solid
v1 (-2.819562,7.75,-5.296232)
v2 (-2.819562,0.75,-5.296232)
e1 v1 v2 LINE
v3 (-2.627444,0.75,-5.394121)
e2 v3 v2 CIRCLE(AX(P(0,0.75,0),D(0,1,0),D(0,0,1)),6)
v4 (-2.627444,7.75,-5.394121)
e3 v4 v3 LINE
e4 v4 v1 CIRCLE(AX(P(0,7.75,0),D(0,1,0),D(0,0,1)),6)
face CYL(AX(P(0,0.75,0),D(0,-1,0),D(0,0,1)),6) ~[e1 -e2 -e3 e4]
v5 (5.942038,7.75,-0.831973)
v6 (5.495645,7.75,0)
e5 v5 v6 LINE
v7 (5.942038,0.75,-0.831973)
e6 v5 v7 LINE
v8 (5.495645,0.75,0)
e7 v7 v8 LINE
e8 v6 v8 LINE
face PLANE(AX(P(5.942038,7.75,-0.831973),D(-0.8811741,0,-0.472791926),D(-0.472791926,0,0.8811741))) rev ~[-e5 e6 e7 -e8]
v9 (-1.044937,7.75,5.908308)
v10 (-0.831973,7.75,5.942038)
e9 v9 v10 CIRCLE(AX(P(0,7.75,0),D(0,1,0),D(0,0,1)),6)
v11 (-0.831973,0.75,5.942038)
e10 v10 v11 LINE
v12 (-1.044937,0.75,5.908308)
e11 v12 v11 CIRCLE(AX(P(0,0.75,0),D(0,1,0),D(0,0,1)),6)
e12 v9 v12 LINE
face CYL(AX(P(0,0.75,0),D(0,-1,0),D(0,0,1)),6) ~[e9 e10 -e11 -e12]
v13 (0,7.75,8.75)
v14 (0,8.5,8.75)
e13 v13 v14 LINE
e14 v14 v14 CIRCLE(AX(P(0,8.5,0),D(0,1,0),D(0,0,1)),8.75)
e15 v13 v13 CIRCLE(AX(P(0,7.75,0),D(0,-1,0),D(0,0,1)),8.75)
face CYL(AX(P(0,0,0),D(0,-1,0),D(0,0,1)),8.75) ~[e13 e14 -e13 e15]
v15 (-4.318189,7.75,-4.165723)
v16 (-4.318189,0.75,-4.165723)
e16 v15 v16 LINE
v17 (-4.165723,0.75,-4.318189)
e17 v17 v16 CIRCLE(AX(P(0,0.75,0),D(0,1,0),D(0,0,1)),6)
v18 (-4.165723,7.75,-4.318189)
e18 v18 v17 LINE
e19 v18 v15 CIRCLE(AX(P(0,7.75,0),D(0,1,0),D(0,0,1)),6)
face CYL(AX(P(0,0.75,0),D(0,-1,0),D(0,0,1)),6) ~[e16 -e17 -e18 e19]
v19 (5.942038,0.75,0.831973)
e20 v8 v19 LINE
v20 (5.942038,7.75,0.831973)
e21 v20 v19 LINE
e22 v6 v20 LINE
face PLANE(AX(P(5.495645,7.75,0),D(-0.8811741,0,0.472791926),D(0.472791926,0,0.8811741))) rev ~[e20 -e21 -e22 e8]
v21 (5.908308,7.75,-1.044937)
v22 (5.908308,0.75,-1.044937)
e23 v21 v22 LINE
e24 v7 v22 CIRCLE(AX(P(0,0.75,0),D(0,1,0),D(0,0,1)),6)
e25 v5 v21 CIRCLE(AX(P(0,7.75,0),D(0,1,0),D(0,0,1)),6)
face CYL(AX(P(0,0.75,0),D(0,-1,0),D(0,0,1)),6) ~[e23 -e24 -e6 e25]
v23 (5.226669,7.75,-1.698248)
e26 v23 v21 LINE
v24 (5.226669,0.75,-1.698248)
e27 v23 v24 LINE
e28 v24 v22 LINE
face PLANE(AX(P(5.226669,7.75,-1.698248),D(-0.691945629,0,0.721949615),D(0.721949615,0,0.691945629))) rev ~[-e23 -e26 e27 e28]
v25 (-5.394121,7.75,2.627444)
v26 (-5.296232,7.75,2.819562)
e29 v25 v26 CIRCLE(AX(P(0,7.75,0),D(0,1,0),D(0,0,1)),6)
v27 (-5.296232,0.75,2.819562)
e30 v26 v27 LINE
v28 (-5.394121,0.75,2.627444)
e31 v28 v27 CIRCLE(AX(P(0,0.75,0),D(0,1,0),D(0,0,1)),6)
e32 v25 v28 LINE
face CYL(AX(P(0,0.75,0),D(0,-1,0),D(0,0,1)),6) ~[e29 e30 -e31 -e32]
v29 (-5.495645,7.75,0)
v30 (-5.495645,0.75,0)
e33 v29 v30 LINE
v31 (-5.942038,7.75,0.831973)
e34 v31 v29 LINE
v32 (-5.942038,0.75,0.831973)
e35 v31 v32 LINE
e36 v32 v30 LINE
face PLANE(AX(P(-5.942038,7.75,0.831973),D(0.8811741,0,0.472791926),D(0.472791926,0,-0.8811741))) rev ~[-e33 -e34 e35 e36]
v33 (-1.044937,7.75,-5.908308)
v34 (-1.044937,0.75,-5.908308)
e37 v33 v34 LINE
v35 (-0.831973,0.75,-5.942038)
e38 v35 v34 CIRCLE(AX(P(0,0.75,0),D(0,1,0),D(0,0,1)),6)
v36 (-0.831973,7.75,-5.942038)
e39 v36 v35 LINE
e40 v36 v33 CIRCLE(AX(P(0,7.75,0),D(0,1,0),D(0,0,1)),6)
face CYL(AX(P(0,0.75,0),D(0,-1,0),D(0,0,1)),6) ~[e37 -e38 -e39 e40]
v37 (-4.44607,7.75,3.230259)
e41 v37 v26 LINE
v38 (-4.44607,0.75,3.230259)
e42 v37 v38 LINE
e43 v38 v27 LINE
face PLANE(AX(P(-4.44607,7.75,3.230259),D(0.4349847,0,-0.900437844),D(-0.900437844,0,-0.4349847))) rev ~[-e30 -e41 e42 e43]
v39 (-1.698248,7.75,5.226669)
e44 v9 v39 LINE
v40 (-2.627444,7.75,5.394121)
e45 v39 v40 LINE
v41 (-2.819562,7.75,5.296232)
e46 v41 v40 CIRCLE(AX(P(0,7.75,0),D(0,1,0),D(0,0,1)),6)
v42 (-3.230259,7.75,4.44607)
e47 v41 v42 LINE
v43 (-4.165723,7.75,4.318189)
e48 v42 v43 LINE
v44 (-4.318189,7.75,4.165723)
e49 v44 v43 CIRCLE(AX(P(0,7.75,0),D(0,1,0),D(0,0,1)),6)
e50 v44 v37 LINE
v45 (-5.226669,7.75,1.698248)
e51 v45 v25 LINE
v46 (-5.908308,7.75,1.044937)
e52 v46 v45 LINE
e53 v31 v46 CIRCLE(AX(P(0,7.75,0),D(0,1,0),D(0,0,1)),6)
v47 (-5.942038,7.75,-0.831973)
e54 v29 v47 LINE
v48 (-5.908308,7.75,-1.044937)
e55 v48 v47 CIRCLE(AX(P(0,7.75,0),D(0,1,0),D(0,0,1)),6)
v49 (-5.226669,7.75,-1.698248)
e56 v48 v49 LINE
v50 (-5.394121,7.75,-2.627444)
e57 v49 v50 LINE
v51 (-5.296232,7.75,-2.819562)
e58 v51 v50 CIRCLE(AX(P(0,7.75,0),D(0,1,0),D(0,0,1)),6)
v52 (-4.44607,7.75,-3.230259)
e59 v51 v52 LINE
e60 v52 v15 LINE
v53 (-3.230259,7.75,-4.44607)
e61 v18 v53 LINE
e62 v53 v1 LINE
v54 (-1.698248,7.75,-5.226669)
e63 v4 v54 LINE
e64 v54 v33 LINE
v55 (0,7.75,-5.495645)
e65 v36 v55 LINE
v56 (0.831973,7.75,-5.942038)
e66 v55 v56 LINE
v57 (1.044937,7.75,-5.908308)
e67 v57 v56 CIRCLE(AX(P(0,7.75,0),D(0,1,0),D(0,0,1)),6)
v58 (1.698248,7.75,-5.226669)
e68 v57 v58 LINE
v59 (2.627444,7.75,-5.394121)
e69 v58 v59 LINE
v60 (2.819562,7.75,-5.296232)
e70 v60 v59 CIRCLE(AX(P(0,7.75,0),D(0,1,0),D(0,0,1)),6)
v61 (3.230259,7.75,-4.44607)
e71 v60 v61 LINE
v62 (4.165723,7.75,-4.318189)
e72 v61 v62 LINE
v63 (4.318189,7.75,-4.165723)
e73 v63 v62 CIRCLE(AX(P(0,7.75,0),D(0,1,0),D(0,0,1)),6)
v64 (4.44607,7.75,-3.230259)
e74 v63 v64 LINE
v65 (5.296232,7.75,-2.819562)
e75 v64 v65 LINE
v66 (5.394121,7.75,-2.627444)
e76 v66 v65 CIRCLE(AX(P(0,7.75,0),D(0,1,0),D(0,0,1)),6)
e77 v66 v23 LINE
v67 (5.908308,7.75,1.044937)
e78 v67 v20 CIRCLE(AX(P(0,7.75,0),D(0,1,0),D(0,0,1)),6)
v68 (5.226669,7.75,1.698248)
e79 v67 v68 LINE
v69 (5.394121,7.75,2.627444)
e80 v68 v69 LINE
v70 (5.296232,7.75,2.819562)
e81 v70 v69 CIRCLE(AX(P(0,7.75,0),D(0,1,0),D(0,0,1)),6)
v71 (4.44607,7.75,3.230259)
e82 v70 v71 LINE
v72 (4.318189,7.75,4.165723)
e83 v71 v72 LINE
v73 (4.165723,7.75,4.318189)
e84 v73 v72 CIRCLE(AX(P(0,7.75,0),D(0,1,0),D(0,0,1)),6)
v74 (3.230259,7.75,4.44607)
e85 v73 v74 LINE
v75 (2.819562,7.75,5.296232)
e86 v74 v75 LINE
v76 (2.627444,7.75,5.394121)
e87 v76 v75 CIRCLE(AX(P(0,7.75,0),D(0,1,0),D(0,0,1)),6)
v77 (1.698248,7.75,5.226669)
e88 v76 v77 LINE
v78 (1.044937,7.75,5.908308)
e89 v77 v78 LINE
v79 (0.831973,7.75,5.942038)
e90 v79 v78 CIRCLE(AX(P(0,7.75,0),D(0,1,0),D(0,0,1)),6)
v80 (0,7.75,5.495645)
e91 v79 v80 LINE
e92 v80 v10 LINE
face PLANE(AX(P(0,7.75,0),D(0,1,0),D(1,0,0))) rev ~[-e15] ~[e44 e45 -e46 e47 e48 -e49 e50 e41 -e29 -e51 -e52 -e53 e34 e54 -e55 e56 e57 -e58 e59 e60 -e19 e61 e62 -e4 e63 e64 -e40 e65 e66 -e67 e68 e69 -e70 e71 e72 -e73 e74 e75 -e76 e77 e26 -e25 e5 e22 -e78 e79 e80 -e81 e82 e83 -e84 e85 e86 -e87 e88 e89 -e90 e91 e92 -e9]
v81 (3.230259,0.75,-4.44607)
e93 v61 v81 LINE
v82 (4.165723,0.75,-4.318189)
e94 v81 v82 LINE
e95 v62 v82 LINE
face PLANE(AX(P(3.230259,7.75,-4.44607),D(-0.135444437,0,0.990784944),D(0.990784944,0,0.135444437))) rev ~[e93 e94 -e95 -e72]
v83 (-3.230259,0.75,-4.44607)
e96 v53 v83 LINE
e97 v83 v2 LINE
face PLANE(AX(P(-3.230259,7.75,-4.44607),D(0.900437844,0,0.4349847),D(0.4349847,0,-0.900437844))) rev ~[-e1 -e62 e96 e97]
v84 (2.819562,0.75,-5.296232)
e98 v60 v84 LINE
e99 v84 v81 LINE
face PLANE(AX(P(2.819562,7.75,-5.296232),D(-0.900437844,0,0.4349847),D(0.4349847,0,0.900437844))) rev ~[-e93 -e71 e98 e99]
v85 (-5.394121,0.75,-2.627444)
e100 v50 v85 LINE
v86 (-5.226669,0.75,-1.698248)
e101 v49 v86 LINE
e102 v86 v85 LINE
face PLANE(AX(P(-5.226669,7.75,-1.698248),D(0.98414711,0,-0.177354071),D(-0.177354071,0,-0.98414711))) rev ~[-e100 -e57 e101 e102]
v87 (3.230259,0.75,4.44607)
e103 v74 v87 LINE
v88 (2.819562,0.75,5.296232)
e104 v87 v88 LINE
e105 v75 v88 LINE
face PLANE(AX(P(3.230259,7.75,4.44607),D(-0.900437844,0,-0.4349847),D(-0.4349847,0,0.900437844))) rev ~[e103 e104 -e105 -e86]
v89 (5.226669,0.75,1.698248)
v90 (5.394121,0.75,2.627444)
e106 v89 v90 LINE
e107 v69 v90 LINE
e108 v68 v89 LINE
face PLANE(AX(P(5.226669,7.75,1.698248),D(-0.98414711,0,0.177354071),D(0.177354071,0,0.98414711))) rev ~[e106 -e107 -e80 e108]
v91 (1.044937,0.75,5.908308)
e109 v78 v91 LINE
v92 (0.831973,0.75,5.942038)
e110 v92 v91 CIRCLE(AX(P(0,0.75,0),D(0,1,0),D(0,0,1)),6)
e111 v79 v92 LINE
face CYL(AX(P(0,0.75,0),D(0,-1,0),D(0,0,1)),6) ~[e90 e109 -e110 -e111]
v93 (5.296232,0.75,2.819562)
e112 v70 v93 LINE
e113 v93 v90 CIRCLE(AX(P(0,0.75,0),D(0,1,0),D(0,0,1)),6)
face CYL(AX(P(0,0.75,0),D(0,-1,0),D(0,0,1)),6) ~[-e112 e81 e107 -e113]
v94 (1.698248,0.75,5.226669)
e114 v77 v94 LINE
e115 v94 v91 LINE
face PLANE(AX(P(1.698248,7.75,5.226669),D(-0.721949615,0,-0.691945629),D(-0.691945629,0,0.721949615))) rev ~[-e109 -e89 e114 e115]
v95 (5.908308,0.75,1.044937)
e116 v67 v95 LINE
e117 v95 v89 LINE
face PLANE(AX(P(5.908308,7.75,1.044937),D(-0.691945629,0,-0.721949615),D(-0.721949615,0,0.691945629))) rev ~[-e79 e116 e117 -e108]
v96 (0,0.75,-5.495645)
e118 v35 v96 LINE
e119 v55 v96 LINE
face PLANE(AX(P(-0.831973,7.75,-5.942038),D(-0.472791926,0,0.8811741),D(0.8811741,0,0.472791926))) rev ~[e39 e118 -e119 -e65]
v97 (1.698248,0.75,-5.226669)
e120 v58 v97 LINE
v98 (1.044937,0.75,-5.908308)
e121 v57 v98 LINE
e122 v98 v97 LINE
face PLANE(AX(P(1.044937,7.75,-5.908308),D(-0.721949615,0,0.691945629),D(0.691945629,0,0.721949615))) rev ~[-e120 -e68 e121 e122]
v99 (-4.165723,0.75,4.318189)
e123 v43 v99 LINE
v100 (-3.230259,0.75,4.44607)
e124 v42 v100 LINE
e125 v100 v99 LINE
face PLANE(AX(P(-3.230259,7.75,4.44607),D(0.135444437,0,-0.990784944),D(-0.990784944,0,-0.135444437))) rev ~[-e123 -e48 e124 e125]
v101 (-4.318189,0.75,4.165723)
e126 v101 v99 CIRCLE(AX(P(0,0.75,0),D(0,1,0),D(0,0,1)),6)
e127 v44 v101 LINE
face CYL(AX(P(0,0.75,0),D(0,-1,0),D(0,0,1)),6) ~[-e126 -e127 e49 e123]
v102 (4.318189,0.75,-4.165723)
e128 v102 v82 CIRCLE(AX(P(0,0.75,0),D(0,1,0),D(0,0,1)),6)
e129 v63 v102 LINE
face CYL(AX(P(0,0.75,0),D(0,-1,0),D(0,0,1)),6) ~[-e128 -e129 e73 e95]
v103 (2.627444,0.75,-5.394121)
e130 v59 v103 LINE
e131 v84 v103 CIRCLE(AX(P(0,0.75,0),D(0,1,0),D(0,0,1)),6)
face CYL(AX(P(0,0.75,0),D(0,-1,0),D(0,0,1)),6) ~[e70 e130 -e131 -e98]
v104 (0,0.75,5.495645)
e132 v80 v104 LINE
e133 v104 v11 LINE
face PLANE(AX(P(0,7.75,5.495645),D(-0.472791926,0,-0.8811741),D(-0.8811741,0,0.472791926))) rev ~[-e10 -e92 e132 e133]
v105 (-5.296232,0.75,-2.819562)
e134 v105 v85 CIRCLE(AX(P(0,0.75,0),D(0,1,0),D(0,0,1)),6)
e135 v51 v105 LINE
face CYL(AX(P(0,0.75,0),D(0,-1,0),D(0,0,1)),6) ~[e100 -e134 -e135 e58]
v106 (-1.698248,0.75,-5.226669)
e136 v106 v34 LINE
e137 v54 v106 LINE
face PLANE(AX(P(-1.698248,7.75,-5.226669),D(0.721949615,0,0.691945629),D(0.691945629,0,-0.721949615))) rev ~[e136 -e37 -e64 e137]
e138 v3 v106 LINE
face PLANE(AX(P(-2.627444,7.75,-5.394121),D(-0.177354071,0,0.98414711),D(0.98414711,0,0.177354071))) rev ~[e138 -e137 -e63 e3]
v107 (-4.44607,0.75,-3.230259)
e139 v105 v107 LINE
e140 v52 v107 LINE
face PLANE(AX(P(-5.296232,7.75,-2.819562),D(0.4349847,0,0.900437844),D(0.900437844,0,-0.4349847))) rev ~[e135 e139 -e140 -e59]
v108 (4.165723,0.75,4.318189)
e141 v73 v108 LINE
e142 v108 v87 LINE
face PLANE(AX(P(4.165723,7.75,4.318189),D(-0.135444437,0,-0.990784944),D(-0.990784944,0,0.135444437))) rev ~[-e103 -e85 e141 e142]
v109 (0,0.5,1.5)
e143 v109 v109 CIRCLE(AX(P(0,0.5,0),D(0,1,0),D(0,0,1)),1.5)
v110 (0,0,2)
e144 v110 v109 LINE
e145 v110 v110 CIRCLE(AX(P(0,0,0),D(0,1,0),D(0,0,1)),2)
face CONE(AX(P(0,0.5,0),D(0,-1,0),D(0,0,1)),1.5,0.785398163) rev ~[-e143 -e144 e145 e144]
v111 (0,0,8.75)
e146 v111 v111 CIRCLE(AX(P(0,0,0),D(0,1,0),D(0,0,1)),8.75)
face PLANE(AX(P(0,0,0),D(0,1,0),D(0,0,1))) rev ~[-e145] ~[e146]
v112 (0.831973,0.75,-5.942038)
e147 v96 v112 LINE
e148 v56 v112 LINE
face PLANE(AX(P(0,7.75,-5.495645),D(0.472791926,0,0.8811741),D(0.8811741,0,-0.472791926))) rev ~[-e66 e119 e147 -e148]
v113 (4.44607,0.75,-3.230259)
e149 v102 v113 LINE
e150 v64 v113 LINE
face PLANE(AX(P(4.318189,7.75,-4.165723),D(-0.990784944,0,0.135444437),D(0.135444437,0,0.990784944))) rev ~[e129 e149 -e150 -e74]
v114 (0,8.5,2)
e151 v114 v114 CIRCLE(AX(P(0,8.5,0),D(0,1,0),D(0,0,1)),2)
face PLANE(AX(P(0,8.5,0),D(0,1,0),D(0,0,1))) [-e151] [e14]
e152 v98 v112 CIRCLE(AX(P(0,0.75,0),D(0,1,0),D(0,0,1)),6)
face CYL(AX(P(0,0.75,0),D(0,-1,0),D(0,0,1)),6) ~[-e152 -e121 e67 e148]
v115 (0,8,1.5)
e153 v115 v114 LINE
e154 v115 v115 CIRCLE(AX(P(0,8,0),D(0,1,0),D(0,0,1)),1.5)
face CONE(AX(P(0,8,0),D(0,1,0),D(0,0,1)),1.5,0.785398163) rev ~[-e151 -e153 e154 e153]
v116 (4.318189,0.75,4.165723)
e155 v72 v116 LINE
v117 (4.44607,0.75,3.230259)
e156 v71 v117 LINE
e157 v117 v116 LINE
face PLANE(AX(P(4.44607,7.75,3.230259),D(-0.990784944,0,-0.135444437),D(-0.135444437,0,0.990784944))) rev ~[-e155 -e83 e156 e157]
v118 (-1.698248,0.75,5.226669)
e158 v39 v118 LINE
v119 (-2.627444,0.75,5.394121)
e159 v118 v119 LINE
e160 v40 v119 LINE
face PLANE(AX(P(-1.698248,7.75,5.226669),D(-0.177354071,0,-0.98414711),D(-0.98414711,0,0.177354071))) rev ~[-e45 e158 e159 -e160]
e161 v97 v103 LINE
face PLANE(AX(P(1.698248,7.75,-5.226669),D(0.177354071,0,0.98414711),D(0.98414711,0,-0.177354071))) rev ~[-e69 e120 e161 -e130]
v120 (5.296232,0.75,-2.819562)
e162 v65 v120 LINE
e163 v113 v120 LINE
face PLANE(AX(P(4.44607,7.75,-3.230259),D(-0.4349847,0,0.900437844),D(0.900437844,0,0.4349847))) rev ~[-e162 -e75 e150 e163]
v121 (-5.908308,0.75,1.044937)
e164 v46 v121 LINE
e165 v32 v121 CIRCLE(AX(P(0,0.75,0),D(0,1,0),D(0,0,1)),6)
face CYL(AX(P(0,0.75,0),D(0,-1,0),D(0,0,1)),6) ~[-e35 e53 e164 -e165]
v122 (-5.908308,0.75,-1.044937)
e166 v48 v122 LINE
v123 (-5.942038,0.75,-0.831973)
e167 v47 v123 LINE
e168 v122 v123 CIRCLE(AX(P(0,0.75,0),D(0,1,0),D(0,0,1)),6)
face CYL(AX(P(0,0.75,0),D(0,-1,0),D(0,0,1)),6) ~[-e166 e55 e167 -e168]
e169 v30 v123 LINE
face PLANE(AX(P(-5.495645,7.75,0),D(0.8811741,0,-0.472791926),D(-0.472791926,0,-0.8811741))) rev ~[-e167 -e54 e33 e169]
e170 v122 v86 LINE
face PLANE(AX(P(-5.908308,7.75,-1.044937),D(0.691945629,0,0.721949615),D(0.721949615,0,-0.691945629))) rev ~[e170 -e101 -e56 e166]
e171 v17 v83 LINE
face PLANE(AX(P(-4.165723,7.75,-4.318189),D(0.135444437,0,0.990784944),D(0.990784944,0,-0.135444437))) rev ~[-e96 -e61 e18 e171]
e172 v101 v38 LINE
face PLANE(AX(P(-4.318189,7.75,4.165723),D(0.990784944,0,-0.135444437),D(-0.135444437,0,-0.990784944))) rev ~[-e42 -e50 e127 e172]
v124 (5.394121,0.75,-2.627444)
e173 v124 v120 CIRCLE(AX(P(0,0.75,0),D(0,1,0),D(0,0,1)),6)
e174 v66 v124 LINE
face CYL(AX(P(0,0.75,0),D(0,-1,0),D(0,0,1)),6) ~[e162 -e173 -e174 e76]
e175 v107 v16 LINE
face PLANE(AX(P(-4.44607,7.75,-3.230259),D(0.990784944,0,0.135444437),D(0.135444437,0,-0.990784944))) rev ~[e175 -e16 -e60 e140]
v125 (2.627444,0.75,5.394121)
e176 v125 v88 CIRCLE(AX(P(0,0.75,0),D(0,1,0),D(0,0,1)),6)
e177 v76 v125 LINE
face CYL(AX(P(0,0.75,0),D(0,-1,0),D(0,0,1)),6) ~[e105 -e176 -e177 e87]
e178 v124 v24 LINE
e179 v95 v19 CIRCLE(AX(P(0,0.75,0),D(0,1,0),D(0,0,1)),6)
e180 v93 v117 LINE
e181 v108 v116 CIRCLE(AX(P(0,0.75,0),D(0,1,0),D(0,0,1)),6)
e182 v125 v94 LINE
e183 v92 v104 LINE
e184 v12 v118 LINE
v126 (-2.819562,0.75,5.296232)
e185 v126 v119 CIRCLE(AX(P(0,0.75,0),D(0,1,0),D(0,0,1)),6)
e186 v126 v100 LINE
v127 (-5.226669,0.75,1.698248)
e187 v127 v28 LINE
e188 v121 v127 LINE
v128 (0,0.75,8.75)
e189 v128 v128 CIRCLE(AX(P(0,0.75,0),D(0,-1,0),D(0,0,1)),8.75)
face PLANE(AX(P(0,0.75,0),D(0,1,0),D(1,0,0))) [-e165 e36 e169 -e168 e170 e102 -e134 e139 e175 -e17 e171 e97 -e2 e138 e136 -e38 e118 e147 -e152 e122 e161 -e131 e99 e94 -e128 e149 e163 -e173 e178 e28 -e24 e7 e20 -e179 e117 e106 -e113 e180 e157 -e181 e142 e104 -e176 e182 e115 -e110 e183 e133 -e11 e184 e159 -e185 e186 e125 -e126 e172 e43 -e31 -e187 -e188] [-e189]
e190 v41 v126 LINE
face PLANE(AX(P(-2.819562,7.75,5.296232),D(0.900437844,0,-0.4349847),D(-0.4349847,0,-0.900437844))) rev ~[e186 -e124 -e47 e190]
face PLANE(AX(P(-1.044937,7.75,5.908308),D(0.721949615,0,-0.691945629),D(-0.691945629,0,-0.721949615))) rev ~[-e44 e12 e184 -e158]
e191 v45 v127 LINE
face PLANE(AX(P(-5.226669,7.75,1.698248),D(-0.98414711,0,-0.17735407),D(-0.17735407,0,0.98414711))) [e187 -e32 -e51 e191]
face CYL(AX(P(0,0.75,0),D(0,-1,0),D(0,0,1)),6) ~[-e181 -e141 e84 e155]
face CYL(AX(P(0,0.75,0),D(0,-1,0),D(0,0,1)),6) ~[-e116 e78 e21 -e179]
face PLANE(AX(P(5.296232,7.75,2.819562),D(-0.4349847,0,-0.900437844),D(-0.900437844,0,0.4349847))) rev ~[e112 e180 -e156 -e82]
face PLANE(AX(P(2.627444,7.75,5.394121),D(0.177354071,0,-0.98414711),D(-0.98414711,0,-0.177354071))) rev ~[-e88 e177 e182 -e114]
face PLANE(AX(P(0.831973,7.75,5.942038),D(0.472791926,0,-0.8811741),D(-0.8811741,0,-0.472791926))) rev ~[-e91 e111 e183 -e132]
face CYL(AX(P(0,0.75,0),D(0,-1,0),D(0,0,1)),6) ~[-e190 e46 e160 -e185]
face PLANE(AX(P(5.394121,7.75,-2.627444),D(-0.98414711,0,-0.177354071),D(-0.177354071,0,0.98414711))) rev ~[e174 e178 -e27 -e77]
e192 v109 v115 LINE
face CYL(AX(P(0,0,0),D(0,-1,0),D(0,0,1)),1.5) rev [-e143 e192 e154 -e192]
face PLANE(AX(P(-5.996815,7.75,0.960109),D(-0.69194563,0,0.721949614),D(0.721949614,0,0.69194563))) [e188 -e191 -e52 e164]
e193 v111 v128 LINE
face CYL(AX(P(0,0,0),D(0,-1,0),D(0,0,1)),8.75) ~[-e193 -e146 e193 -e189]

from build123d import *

# Parameters (mm, degrees)
SKETCH1_R               = 8.75
SKETCH1_R_2             = 1.5
BOSS_EXTRUDE1_DEPTH     = 8.5
CUT_EXTRUDE2_DEPTH      = 3.5
CUT_EXTRUDE2_DEPTH_BACK = 3.5
CUT_EXTRUDE2_START      = -4.25
SKETCH2_R               = 9
SKETCH2_R_2             = 6
CUT_EXTRUDE5_START      = -0.75
CUT_EXTRUDE5_DEPTH      = 7
CHAMFER1_SIZE           = 0.5


with BuildPart() as part:
    # Sketch1 → Boss-Extrude1 (new body)
    with BuildSketch(Plane(origin=(0, 0, 0), x_dir=(1, 0, 0), z_dir=(0, 1, 0))):
        with Locations(Location((0, 0, 0), (0, 0, 270))):
            Circle(SKETCH1_R)
        with Locations(Location((0, 0, 0), (0, 0, 270))):
            Circle(SKETCH1_R_2, mode=Mode.SUBTRACT)
    extrude(amount=BOSS_EXTRUDE1_DEPTH)

    # Sketch2 → Cut-Extrude2 (cut, two sides: drawn at the far end of the back side and taken through both)
    with BuildSketch(Plane(origin=(0, 8.5, 0), x_dir=(1, 0, 0), z_dir=(0, 1, 0)).offset(CUT_EXTRUDE2_START - CUT_EXTRUDE2_DEPTH_BACK)):
        Circle(SKETCH2_R)
        with Locations(Location((0, 0, 0), (0, 0, 270))):
            Circle(SKETCH2_R_2, mode=Mode.SUBTRACT)
    extrude(amount=CUT_EXTRUDE2_DEPTH + CUT_EXTRUDE2_DEPTH_BACK, mode=Mode.SUBTRACT)

    # Sketch4 → Cut-Extrude5 (cut)
    with BuildSketch(Plane(origin=(0, 8.5, 0), x_dir=(1, 0, 0), z_dir=(0, 1, 0)).offset(CUT_EXTRUDE5_START)):
        with BuildLine():
            ThreePointArc((3.526710889, 4.85410242), (3.180827716, 5.087468432), (2.81956216, 5.296231606))
            Line((2.81956216, 5.296231606), (3.230259184, 4.44607034))
            Line((3.230259184, 4.44607034), (4.165722957, 4.318188538))
            ThreePointArc((4.165722957, 4.318188538), (3.855539591, 4.597261626), (3.526710889, 4.85410242))
        make_face()
        with BuildLine():
            ThreePointArc((4.854101297, 3.526712434), (4.597261012, 3.855540323), (4.318188538, 4.165722957))
            Line((4.318188538, 4.165722957), (4.44607034, 3.230259184))
            Line((4.44607034, 3.230259184), (5.296231606, 2.81956216))
            ThreePointArc((5.296231606, 2.81956216), (5.087467925, 3.180828525), (4.854101297, 3.526712434))
        make_face()
        with BuildLine():
            ThreePointArc((1.85410212, 5.706339048), (1.453033176, 5.821399711), (1.044937393, 5.908308205))
            Line((1.044937393, 5.908308205), (1.698247753, 5.226669153))
            Line((1.698247753, 5.226669153), (2.62744432, 5.394120535))
            ThreePointArc((2.62744432, 5.394120535), (2.246204515, 5.563682708), (1.85410212, 5.706339048))
        make_face()
        with BuildLine():
            ThreePointArc((0.831973127, 5.942038431), (0.416994825, 5.98549207), (-5.4e-08, 6))
            ThreePointArc((-5.4e-08, 6), (-0.416994879, 5.985492066), (-0.831973127, 5.942038431))
            Line((-0.831973127, 5.942038431), (0, 5.495645173))
            Line((0, 5.495645173), (0.831973127, 5.942038431))
        make_face()
        with BuildLine():
            Line((-1.698247753, 5.226669153), (-1.044937393, 5.908308205))
            ThreePointArc((-1.044937393, 5.908308205), (-1.453033133, 5.821399721), (-1.854102038, 5.706339075))
            ThreePointArc((-1.854102038, 5.706339075), (-2.246204475, 5.563682724), (-2.62744432, 5.394120535))
            Line((-2.62744432, 5.394120535), (-1.698247753, 5.226669153))
        make_face()
        with BuildLine():
            Line((-3.230259184, 4.44607034), (-2.81956216, 5.296231606))
            ThreePointArc((-2.81956216, 5.296231606), (-3.180828024, 5.087468239), (-3.526711477, 4.854101993))
            ThreePointArc((-3.526711477, 4.854101993), (-3.85553987, 4.597261392), (-4.165722957, 4.318188538))
            Line((-4.165722957, 4.318188538), (-3.230259184, 4.44607034))
        make_face()
        with BuildLine():
            Line((-4.44607034, 3.230259184), (-4.318188538, 4.165722957))
            ThreePointArc((-4.318188538, 4.165722957), (-4.597261623, 3.855539595), (-4.854102415, 3.526710897))
            ThreePointArc((-4.854102415, 3.526710897), (-5.087468429, 3.18082772), (-5.296231606, 2.81956216))
            Line((-5.296231606, 2.81956216), (-4.44607034, 3.230259184))
        make_face()
        with BuildLine():
            Line((-5.226669153, 1.698247753), (-5.394120535, 2.62744432))
            ThreePointArc((-5.394120535, 2.62744432), (-5.563682526, 2.246204966), (-5.706338747, 1.854103044))
            ThreePointArc((-5.706338747, 1.854103044), (-5.821399593, 1.453033647), (-5.908308205, 1.044937393))
            Line((-5.908308205, 1.044937393), (-5.226669153, 1.698247753))
        make_face()
        with BuildLine():
            ThreePointArc((5.70633865, 1.854103345), (5.563682467, 2.246205112), (5.394120535, 2.62744432))
            Line((5.394120535, 2.62744432), (5.226669153, 1.698247753))
            Line((5.226669153, 1.698247753), (5.908308205, 1.044937393))
            ThreePointArc((5.908308205, 1.044937393), (5.821399555, 1.4530338), (5.70633865, 1.854103345))
        make_face()
        with BuildLine():
            ThreePointArc((6, 0), (5.985492068, 0.416994852), (5.942038431, 0.831973127))
            Line((5.942038431, 0.831973127), (5.495645173, 0))
            Line((5.495645173, 0), (5.942038431, -0.831973127))
            ThreePointArc((5.942038431, -0.831973127), (5.985492068, -0.416994852), (6, 0))
        make_face()
        with BuildLine():
            ThreePointArc((5.706339698, -1.854100118), (5.821399966, -1.453032154), (5.908308205, -1.044937393))
            Line((5.908308205, -1.044937393), (5.226669153, -1.698247753))
            Line((5.226669153, -1.698247753), (5.394120535, -2.62744432))
            ThreePointArc((5.394120535, -2.62744432), (5.563683102, -2.246203539), (5.706339698, -1.854100118))
        make_face()
        with BuildLine():
            Line((-5.495645173, 0), (-5.942038431, 0.831973127))
            ThreePointArc((-5.942038431, 0.831973127), (-5.985492068, 0.416994852), (-6, 0))
            ThreePointArc((-6, 0), (-5.985492068, -0.416994852), (-5.942038431, -0.831973127))
            Line((-5.942038431, -0.831973127), (-5.495645173, 0))
        make_face()
        with BuildLine():
            Line((-4.44607034, -3.230259184), (-5.296231606, -2.81956216))
            ThreePointArc((-5.296231606, -2.81956216), (-5.087467714, -3.180828864), (-4.854100828, -3.526713081))
            ThreePointArc((-4.854100828, -3.526713081), (-4.597260756, -3.855540629), (-4.318188538, -4.165722957))
            Line((-4.318188538, -4.165722957), (-4.44607034, -3.230259184))
        make_face()
        with BuildLine():
            Line((-3.230259184, -4.44607034), (-4.165722957, -4.318188538))
            ThreePointArc((-4.165722957, -4.318188538), (-3.855540695, -4.5972607), (-3.52671322, -4.854100727))
            ThreePointArc((-3.52671322, -4.854100727), (-3.180828937, -5.087467668), (-2.81956216, -5.296231606))
            Line((-2.81956216, -5.296231606), (-3.230259184, -4.44607034))
        make_face()
        with BuildLine():
            Line((-1.698247753, -5.226669153), (-2.62744432, -5.394120535))
            ThreePointArc((-2.62744432, -5.394120535), (-2.246203408, -5.563683155), (-1.854099848, -5.706339786))
            ThreePointArc((-1.854099848, -5.706339786), (-1.453032017, -5.8214), (-1.044937393, -5.908308205))
            Line((-1.044937393, -5.908308205), (-1.698247753, -5.226669153))
        make_face()
        with BuildLine():
            Line((0, -5.495645173), (-0.831973127, -5.942038431))
            ThreePointArc((-0.831973127, -5.942038431), (-0.416994852, -5.985492068), (1e-09, -6))
            ThreePointArc((1e-09, -6), (0.416994853, -5.985492068), (0.831973127, -5.942038431))
            Line((0.831973127, -5.942038431), (0, -5.495645173))
        make_face()
        with BuildLine():
            ThreePointArc((1.854099793, -5.706339804), (2.246203381, -5.563683166), (2.62744432, -5.394120535))
            Line((2.62744432, -5.394120535), (1.698247753, -5.226669153))
            Line((1.698247753, -5.226669153), (1.044937393, -5.908308205))
            ThreePointArc((1.044937393, -5.908308205), (1.453031988, -5.821400007), (1.854099793, -5.706339804))
        make_face()
        with BuildLine():
            ThreePointArc((3.526713316, -4.854100657), (3.855540741, -4.597260662), (4.165722957, -4.318188538))
            Line((4.165722957, -4.318188538), (3.230259184, -4.44607034))
            Line((3.230259184, -4.44607034), (2.81956216, -5.296231606))
            ThreePointArc((2.81956216, -5.296231606), (3.180828987, -5.087467637), (3.526713316, -4.854100657))
        make_face()
        with BuildLine():
            ThreePointArc((4.854100726, -3.52671322), (5.087467668, -3.180828937), (5.296231606, -2.81956216))
            Line((5.296231606, -2.81956216), (4.44607034, -3.230259184))
            Line((4.44607034, -3.230259184), (4.318188538, -4.165722957))
            ThreePointArc((4.318188538, -4.165722957), (4.5972607, -3.855540695), (4.854100726, -3.52671322))
        make_face()
        Polygon((-5.226669153, -1.698247753), (-5.415863123, -2.748095092), (-5.996815072, -0.960108841), align=None)
    extrude(amount=-CUT_EXTRUDE5_DEPTH, mode=Mode.SUBTRACT)

    # Chamfer1
    chamfer1_edges = [part.edges().sort_by_distance(p)[0] for p in [
        (0, 0, -1.5),
        (0, 8.5, -1.5),
    ]]
    chamfer(chamfer1_edges, length=CHAMFER1_SIZE)


solid = part.part
